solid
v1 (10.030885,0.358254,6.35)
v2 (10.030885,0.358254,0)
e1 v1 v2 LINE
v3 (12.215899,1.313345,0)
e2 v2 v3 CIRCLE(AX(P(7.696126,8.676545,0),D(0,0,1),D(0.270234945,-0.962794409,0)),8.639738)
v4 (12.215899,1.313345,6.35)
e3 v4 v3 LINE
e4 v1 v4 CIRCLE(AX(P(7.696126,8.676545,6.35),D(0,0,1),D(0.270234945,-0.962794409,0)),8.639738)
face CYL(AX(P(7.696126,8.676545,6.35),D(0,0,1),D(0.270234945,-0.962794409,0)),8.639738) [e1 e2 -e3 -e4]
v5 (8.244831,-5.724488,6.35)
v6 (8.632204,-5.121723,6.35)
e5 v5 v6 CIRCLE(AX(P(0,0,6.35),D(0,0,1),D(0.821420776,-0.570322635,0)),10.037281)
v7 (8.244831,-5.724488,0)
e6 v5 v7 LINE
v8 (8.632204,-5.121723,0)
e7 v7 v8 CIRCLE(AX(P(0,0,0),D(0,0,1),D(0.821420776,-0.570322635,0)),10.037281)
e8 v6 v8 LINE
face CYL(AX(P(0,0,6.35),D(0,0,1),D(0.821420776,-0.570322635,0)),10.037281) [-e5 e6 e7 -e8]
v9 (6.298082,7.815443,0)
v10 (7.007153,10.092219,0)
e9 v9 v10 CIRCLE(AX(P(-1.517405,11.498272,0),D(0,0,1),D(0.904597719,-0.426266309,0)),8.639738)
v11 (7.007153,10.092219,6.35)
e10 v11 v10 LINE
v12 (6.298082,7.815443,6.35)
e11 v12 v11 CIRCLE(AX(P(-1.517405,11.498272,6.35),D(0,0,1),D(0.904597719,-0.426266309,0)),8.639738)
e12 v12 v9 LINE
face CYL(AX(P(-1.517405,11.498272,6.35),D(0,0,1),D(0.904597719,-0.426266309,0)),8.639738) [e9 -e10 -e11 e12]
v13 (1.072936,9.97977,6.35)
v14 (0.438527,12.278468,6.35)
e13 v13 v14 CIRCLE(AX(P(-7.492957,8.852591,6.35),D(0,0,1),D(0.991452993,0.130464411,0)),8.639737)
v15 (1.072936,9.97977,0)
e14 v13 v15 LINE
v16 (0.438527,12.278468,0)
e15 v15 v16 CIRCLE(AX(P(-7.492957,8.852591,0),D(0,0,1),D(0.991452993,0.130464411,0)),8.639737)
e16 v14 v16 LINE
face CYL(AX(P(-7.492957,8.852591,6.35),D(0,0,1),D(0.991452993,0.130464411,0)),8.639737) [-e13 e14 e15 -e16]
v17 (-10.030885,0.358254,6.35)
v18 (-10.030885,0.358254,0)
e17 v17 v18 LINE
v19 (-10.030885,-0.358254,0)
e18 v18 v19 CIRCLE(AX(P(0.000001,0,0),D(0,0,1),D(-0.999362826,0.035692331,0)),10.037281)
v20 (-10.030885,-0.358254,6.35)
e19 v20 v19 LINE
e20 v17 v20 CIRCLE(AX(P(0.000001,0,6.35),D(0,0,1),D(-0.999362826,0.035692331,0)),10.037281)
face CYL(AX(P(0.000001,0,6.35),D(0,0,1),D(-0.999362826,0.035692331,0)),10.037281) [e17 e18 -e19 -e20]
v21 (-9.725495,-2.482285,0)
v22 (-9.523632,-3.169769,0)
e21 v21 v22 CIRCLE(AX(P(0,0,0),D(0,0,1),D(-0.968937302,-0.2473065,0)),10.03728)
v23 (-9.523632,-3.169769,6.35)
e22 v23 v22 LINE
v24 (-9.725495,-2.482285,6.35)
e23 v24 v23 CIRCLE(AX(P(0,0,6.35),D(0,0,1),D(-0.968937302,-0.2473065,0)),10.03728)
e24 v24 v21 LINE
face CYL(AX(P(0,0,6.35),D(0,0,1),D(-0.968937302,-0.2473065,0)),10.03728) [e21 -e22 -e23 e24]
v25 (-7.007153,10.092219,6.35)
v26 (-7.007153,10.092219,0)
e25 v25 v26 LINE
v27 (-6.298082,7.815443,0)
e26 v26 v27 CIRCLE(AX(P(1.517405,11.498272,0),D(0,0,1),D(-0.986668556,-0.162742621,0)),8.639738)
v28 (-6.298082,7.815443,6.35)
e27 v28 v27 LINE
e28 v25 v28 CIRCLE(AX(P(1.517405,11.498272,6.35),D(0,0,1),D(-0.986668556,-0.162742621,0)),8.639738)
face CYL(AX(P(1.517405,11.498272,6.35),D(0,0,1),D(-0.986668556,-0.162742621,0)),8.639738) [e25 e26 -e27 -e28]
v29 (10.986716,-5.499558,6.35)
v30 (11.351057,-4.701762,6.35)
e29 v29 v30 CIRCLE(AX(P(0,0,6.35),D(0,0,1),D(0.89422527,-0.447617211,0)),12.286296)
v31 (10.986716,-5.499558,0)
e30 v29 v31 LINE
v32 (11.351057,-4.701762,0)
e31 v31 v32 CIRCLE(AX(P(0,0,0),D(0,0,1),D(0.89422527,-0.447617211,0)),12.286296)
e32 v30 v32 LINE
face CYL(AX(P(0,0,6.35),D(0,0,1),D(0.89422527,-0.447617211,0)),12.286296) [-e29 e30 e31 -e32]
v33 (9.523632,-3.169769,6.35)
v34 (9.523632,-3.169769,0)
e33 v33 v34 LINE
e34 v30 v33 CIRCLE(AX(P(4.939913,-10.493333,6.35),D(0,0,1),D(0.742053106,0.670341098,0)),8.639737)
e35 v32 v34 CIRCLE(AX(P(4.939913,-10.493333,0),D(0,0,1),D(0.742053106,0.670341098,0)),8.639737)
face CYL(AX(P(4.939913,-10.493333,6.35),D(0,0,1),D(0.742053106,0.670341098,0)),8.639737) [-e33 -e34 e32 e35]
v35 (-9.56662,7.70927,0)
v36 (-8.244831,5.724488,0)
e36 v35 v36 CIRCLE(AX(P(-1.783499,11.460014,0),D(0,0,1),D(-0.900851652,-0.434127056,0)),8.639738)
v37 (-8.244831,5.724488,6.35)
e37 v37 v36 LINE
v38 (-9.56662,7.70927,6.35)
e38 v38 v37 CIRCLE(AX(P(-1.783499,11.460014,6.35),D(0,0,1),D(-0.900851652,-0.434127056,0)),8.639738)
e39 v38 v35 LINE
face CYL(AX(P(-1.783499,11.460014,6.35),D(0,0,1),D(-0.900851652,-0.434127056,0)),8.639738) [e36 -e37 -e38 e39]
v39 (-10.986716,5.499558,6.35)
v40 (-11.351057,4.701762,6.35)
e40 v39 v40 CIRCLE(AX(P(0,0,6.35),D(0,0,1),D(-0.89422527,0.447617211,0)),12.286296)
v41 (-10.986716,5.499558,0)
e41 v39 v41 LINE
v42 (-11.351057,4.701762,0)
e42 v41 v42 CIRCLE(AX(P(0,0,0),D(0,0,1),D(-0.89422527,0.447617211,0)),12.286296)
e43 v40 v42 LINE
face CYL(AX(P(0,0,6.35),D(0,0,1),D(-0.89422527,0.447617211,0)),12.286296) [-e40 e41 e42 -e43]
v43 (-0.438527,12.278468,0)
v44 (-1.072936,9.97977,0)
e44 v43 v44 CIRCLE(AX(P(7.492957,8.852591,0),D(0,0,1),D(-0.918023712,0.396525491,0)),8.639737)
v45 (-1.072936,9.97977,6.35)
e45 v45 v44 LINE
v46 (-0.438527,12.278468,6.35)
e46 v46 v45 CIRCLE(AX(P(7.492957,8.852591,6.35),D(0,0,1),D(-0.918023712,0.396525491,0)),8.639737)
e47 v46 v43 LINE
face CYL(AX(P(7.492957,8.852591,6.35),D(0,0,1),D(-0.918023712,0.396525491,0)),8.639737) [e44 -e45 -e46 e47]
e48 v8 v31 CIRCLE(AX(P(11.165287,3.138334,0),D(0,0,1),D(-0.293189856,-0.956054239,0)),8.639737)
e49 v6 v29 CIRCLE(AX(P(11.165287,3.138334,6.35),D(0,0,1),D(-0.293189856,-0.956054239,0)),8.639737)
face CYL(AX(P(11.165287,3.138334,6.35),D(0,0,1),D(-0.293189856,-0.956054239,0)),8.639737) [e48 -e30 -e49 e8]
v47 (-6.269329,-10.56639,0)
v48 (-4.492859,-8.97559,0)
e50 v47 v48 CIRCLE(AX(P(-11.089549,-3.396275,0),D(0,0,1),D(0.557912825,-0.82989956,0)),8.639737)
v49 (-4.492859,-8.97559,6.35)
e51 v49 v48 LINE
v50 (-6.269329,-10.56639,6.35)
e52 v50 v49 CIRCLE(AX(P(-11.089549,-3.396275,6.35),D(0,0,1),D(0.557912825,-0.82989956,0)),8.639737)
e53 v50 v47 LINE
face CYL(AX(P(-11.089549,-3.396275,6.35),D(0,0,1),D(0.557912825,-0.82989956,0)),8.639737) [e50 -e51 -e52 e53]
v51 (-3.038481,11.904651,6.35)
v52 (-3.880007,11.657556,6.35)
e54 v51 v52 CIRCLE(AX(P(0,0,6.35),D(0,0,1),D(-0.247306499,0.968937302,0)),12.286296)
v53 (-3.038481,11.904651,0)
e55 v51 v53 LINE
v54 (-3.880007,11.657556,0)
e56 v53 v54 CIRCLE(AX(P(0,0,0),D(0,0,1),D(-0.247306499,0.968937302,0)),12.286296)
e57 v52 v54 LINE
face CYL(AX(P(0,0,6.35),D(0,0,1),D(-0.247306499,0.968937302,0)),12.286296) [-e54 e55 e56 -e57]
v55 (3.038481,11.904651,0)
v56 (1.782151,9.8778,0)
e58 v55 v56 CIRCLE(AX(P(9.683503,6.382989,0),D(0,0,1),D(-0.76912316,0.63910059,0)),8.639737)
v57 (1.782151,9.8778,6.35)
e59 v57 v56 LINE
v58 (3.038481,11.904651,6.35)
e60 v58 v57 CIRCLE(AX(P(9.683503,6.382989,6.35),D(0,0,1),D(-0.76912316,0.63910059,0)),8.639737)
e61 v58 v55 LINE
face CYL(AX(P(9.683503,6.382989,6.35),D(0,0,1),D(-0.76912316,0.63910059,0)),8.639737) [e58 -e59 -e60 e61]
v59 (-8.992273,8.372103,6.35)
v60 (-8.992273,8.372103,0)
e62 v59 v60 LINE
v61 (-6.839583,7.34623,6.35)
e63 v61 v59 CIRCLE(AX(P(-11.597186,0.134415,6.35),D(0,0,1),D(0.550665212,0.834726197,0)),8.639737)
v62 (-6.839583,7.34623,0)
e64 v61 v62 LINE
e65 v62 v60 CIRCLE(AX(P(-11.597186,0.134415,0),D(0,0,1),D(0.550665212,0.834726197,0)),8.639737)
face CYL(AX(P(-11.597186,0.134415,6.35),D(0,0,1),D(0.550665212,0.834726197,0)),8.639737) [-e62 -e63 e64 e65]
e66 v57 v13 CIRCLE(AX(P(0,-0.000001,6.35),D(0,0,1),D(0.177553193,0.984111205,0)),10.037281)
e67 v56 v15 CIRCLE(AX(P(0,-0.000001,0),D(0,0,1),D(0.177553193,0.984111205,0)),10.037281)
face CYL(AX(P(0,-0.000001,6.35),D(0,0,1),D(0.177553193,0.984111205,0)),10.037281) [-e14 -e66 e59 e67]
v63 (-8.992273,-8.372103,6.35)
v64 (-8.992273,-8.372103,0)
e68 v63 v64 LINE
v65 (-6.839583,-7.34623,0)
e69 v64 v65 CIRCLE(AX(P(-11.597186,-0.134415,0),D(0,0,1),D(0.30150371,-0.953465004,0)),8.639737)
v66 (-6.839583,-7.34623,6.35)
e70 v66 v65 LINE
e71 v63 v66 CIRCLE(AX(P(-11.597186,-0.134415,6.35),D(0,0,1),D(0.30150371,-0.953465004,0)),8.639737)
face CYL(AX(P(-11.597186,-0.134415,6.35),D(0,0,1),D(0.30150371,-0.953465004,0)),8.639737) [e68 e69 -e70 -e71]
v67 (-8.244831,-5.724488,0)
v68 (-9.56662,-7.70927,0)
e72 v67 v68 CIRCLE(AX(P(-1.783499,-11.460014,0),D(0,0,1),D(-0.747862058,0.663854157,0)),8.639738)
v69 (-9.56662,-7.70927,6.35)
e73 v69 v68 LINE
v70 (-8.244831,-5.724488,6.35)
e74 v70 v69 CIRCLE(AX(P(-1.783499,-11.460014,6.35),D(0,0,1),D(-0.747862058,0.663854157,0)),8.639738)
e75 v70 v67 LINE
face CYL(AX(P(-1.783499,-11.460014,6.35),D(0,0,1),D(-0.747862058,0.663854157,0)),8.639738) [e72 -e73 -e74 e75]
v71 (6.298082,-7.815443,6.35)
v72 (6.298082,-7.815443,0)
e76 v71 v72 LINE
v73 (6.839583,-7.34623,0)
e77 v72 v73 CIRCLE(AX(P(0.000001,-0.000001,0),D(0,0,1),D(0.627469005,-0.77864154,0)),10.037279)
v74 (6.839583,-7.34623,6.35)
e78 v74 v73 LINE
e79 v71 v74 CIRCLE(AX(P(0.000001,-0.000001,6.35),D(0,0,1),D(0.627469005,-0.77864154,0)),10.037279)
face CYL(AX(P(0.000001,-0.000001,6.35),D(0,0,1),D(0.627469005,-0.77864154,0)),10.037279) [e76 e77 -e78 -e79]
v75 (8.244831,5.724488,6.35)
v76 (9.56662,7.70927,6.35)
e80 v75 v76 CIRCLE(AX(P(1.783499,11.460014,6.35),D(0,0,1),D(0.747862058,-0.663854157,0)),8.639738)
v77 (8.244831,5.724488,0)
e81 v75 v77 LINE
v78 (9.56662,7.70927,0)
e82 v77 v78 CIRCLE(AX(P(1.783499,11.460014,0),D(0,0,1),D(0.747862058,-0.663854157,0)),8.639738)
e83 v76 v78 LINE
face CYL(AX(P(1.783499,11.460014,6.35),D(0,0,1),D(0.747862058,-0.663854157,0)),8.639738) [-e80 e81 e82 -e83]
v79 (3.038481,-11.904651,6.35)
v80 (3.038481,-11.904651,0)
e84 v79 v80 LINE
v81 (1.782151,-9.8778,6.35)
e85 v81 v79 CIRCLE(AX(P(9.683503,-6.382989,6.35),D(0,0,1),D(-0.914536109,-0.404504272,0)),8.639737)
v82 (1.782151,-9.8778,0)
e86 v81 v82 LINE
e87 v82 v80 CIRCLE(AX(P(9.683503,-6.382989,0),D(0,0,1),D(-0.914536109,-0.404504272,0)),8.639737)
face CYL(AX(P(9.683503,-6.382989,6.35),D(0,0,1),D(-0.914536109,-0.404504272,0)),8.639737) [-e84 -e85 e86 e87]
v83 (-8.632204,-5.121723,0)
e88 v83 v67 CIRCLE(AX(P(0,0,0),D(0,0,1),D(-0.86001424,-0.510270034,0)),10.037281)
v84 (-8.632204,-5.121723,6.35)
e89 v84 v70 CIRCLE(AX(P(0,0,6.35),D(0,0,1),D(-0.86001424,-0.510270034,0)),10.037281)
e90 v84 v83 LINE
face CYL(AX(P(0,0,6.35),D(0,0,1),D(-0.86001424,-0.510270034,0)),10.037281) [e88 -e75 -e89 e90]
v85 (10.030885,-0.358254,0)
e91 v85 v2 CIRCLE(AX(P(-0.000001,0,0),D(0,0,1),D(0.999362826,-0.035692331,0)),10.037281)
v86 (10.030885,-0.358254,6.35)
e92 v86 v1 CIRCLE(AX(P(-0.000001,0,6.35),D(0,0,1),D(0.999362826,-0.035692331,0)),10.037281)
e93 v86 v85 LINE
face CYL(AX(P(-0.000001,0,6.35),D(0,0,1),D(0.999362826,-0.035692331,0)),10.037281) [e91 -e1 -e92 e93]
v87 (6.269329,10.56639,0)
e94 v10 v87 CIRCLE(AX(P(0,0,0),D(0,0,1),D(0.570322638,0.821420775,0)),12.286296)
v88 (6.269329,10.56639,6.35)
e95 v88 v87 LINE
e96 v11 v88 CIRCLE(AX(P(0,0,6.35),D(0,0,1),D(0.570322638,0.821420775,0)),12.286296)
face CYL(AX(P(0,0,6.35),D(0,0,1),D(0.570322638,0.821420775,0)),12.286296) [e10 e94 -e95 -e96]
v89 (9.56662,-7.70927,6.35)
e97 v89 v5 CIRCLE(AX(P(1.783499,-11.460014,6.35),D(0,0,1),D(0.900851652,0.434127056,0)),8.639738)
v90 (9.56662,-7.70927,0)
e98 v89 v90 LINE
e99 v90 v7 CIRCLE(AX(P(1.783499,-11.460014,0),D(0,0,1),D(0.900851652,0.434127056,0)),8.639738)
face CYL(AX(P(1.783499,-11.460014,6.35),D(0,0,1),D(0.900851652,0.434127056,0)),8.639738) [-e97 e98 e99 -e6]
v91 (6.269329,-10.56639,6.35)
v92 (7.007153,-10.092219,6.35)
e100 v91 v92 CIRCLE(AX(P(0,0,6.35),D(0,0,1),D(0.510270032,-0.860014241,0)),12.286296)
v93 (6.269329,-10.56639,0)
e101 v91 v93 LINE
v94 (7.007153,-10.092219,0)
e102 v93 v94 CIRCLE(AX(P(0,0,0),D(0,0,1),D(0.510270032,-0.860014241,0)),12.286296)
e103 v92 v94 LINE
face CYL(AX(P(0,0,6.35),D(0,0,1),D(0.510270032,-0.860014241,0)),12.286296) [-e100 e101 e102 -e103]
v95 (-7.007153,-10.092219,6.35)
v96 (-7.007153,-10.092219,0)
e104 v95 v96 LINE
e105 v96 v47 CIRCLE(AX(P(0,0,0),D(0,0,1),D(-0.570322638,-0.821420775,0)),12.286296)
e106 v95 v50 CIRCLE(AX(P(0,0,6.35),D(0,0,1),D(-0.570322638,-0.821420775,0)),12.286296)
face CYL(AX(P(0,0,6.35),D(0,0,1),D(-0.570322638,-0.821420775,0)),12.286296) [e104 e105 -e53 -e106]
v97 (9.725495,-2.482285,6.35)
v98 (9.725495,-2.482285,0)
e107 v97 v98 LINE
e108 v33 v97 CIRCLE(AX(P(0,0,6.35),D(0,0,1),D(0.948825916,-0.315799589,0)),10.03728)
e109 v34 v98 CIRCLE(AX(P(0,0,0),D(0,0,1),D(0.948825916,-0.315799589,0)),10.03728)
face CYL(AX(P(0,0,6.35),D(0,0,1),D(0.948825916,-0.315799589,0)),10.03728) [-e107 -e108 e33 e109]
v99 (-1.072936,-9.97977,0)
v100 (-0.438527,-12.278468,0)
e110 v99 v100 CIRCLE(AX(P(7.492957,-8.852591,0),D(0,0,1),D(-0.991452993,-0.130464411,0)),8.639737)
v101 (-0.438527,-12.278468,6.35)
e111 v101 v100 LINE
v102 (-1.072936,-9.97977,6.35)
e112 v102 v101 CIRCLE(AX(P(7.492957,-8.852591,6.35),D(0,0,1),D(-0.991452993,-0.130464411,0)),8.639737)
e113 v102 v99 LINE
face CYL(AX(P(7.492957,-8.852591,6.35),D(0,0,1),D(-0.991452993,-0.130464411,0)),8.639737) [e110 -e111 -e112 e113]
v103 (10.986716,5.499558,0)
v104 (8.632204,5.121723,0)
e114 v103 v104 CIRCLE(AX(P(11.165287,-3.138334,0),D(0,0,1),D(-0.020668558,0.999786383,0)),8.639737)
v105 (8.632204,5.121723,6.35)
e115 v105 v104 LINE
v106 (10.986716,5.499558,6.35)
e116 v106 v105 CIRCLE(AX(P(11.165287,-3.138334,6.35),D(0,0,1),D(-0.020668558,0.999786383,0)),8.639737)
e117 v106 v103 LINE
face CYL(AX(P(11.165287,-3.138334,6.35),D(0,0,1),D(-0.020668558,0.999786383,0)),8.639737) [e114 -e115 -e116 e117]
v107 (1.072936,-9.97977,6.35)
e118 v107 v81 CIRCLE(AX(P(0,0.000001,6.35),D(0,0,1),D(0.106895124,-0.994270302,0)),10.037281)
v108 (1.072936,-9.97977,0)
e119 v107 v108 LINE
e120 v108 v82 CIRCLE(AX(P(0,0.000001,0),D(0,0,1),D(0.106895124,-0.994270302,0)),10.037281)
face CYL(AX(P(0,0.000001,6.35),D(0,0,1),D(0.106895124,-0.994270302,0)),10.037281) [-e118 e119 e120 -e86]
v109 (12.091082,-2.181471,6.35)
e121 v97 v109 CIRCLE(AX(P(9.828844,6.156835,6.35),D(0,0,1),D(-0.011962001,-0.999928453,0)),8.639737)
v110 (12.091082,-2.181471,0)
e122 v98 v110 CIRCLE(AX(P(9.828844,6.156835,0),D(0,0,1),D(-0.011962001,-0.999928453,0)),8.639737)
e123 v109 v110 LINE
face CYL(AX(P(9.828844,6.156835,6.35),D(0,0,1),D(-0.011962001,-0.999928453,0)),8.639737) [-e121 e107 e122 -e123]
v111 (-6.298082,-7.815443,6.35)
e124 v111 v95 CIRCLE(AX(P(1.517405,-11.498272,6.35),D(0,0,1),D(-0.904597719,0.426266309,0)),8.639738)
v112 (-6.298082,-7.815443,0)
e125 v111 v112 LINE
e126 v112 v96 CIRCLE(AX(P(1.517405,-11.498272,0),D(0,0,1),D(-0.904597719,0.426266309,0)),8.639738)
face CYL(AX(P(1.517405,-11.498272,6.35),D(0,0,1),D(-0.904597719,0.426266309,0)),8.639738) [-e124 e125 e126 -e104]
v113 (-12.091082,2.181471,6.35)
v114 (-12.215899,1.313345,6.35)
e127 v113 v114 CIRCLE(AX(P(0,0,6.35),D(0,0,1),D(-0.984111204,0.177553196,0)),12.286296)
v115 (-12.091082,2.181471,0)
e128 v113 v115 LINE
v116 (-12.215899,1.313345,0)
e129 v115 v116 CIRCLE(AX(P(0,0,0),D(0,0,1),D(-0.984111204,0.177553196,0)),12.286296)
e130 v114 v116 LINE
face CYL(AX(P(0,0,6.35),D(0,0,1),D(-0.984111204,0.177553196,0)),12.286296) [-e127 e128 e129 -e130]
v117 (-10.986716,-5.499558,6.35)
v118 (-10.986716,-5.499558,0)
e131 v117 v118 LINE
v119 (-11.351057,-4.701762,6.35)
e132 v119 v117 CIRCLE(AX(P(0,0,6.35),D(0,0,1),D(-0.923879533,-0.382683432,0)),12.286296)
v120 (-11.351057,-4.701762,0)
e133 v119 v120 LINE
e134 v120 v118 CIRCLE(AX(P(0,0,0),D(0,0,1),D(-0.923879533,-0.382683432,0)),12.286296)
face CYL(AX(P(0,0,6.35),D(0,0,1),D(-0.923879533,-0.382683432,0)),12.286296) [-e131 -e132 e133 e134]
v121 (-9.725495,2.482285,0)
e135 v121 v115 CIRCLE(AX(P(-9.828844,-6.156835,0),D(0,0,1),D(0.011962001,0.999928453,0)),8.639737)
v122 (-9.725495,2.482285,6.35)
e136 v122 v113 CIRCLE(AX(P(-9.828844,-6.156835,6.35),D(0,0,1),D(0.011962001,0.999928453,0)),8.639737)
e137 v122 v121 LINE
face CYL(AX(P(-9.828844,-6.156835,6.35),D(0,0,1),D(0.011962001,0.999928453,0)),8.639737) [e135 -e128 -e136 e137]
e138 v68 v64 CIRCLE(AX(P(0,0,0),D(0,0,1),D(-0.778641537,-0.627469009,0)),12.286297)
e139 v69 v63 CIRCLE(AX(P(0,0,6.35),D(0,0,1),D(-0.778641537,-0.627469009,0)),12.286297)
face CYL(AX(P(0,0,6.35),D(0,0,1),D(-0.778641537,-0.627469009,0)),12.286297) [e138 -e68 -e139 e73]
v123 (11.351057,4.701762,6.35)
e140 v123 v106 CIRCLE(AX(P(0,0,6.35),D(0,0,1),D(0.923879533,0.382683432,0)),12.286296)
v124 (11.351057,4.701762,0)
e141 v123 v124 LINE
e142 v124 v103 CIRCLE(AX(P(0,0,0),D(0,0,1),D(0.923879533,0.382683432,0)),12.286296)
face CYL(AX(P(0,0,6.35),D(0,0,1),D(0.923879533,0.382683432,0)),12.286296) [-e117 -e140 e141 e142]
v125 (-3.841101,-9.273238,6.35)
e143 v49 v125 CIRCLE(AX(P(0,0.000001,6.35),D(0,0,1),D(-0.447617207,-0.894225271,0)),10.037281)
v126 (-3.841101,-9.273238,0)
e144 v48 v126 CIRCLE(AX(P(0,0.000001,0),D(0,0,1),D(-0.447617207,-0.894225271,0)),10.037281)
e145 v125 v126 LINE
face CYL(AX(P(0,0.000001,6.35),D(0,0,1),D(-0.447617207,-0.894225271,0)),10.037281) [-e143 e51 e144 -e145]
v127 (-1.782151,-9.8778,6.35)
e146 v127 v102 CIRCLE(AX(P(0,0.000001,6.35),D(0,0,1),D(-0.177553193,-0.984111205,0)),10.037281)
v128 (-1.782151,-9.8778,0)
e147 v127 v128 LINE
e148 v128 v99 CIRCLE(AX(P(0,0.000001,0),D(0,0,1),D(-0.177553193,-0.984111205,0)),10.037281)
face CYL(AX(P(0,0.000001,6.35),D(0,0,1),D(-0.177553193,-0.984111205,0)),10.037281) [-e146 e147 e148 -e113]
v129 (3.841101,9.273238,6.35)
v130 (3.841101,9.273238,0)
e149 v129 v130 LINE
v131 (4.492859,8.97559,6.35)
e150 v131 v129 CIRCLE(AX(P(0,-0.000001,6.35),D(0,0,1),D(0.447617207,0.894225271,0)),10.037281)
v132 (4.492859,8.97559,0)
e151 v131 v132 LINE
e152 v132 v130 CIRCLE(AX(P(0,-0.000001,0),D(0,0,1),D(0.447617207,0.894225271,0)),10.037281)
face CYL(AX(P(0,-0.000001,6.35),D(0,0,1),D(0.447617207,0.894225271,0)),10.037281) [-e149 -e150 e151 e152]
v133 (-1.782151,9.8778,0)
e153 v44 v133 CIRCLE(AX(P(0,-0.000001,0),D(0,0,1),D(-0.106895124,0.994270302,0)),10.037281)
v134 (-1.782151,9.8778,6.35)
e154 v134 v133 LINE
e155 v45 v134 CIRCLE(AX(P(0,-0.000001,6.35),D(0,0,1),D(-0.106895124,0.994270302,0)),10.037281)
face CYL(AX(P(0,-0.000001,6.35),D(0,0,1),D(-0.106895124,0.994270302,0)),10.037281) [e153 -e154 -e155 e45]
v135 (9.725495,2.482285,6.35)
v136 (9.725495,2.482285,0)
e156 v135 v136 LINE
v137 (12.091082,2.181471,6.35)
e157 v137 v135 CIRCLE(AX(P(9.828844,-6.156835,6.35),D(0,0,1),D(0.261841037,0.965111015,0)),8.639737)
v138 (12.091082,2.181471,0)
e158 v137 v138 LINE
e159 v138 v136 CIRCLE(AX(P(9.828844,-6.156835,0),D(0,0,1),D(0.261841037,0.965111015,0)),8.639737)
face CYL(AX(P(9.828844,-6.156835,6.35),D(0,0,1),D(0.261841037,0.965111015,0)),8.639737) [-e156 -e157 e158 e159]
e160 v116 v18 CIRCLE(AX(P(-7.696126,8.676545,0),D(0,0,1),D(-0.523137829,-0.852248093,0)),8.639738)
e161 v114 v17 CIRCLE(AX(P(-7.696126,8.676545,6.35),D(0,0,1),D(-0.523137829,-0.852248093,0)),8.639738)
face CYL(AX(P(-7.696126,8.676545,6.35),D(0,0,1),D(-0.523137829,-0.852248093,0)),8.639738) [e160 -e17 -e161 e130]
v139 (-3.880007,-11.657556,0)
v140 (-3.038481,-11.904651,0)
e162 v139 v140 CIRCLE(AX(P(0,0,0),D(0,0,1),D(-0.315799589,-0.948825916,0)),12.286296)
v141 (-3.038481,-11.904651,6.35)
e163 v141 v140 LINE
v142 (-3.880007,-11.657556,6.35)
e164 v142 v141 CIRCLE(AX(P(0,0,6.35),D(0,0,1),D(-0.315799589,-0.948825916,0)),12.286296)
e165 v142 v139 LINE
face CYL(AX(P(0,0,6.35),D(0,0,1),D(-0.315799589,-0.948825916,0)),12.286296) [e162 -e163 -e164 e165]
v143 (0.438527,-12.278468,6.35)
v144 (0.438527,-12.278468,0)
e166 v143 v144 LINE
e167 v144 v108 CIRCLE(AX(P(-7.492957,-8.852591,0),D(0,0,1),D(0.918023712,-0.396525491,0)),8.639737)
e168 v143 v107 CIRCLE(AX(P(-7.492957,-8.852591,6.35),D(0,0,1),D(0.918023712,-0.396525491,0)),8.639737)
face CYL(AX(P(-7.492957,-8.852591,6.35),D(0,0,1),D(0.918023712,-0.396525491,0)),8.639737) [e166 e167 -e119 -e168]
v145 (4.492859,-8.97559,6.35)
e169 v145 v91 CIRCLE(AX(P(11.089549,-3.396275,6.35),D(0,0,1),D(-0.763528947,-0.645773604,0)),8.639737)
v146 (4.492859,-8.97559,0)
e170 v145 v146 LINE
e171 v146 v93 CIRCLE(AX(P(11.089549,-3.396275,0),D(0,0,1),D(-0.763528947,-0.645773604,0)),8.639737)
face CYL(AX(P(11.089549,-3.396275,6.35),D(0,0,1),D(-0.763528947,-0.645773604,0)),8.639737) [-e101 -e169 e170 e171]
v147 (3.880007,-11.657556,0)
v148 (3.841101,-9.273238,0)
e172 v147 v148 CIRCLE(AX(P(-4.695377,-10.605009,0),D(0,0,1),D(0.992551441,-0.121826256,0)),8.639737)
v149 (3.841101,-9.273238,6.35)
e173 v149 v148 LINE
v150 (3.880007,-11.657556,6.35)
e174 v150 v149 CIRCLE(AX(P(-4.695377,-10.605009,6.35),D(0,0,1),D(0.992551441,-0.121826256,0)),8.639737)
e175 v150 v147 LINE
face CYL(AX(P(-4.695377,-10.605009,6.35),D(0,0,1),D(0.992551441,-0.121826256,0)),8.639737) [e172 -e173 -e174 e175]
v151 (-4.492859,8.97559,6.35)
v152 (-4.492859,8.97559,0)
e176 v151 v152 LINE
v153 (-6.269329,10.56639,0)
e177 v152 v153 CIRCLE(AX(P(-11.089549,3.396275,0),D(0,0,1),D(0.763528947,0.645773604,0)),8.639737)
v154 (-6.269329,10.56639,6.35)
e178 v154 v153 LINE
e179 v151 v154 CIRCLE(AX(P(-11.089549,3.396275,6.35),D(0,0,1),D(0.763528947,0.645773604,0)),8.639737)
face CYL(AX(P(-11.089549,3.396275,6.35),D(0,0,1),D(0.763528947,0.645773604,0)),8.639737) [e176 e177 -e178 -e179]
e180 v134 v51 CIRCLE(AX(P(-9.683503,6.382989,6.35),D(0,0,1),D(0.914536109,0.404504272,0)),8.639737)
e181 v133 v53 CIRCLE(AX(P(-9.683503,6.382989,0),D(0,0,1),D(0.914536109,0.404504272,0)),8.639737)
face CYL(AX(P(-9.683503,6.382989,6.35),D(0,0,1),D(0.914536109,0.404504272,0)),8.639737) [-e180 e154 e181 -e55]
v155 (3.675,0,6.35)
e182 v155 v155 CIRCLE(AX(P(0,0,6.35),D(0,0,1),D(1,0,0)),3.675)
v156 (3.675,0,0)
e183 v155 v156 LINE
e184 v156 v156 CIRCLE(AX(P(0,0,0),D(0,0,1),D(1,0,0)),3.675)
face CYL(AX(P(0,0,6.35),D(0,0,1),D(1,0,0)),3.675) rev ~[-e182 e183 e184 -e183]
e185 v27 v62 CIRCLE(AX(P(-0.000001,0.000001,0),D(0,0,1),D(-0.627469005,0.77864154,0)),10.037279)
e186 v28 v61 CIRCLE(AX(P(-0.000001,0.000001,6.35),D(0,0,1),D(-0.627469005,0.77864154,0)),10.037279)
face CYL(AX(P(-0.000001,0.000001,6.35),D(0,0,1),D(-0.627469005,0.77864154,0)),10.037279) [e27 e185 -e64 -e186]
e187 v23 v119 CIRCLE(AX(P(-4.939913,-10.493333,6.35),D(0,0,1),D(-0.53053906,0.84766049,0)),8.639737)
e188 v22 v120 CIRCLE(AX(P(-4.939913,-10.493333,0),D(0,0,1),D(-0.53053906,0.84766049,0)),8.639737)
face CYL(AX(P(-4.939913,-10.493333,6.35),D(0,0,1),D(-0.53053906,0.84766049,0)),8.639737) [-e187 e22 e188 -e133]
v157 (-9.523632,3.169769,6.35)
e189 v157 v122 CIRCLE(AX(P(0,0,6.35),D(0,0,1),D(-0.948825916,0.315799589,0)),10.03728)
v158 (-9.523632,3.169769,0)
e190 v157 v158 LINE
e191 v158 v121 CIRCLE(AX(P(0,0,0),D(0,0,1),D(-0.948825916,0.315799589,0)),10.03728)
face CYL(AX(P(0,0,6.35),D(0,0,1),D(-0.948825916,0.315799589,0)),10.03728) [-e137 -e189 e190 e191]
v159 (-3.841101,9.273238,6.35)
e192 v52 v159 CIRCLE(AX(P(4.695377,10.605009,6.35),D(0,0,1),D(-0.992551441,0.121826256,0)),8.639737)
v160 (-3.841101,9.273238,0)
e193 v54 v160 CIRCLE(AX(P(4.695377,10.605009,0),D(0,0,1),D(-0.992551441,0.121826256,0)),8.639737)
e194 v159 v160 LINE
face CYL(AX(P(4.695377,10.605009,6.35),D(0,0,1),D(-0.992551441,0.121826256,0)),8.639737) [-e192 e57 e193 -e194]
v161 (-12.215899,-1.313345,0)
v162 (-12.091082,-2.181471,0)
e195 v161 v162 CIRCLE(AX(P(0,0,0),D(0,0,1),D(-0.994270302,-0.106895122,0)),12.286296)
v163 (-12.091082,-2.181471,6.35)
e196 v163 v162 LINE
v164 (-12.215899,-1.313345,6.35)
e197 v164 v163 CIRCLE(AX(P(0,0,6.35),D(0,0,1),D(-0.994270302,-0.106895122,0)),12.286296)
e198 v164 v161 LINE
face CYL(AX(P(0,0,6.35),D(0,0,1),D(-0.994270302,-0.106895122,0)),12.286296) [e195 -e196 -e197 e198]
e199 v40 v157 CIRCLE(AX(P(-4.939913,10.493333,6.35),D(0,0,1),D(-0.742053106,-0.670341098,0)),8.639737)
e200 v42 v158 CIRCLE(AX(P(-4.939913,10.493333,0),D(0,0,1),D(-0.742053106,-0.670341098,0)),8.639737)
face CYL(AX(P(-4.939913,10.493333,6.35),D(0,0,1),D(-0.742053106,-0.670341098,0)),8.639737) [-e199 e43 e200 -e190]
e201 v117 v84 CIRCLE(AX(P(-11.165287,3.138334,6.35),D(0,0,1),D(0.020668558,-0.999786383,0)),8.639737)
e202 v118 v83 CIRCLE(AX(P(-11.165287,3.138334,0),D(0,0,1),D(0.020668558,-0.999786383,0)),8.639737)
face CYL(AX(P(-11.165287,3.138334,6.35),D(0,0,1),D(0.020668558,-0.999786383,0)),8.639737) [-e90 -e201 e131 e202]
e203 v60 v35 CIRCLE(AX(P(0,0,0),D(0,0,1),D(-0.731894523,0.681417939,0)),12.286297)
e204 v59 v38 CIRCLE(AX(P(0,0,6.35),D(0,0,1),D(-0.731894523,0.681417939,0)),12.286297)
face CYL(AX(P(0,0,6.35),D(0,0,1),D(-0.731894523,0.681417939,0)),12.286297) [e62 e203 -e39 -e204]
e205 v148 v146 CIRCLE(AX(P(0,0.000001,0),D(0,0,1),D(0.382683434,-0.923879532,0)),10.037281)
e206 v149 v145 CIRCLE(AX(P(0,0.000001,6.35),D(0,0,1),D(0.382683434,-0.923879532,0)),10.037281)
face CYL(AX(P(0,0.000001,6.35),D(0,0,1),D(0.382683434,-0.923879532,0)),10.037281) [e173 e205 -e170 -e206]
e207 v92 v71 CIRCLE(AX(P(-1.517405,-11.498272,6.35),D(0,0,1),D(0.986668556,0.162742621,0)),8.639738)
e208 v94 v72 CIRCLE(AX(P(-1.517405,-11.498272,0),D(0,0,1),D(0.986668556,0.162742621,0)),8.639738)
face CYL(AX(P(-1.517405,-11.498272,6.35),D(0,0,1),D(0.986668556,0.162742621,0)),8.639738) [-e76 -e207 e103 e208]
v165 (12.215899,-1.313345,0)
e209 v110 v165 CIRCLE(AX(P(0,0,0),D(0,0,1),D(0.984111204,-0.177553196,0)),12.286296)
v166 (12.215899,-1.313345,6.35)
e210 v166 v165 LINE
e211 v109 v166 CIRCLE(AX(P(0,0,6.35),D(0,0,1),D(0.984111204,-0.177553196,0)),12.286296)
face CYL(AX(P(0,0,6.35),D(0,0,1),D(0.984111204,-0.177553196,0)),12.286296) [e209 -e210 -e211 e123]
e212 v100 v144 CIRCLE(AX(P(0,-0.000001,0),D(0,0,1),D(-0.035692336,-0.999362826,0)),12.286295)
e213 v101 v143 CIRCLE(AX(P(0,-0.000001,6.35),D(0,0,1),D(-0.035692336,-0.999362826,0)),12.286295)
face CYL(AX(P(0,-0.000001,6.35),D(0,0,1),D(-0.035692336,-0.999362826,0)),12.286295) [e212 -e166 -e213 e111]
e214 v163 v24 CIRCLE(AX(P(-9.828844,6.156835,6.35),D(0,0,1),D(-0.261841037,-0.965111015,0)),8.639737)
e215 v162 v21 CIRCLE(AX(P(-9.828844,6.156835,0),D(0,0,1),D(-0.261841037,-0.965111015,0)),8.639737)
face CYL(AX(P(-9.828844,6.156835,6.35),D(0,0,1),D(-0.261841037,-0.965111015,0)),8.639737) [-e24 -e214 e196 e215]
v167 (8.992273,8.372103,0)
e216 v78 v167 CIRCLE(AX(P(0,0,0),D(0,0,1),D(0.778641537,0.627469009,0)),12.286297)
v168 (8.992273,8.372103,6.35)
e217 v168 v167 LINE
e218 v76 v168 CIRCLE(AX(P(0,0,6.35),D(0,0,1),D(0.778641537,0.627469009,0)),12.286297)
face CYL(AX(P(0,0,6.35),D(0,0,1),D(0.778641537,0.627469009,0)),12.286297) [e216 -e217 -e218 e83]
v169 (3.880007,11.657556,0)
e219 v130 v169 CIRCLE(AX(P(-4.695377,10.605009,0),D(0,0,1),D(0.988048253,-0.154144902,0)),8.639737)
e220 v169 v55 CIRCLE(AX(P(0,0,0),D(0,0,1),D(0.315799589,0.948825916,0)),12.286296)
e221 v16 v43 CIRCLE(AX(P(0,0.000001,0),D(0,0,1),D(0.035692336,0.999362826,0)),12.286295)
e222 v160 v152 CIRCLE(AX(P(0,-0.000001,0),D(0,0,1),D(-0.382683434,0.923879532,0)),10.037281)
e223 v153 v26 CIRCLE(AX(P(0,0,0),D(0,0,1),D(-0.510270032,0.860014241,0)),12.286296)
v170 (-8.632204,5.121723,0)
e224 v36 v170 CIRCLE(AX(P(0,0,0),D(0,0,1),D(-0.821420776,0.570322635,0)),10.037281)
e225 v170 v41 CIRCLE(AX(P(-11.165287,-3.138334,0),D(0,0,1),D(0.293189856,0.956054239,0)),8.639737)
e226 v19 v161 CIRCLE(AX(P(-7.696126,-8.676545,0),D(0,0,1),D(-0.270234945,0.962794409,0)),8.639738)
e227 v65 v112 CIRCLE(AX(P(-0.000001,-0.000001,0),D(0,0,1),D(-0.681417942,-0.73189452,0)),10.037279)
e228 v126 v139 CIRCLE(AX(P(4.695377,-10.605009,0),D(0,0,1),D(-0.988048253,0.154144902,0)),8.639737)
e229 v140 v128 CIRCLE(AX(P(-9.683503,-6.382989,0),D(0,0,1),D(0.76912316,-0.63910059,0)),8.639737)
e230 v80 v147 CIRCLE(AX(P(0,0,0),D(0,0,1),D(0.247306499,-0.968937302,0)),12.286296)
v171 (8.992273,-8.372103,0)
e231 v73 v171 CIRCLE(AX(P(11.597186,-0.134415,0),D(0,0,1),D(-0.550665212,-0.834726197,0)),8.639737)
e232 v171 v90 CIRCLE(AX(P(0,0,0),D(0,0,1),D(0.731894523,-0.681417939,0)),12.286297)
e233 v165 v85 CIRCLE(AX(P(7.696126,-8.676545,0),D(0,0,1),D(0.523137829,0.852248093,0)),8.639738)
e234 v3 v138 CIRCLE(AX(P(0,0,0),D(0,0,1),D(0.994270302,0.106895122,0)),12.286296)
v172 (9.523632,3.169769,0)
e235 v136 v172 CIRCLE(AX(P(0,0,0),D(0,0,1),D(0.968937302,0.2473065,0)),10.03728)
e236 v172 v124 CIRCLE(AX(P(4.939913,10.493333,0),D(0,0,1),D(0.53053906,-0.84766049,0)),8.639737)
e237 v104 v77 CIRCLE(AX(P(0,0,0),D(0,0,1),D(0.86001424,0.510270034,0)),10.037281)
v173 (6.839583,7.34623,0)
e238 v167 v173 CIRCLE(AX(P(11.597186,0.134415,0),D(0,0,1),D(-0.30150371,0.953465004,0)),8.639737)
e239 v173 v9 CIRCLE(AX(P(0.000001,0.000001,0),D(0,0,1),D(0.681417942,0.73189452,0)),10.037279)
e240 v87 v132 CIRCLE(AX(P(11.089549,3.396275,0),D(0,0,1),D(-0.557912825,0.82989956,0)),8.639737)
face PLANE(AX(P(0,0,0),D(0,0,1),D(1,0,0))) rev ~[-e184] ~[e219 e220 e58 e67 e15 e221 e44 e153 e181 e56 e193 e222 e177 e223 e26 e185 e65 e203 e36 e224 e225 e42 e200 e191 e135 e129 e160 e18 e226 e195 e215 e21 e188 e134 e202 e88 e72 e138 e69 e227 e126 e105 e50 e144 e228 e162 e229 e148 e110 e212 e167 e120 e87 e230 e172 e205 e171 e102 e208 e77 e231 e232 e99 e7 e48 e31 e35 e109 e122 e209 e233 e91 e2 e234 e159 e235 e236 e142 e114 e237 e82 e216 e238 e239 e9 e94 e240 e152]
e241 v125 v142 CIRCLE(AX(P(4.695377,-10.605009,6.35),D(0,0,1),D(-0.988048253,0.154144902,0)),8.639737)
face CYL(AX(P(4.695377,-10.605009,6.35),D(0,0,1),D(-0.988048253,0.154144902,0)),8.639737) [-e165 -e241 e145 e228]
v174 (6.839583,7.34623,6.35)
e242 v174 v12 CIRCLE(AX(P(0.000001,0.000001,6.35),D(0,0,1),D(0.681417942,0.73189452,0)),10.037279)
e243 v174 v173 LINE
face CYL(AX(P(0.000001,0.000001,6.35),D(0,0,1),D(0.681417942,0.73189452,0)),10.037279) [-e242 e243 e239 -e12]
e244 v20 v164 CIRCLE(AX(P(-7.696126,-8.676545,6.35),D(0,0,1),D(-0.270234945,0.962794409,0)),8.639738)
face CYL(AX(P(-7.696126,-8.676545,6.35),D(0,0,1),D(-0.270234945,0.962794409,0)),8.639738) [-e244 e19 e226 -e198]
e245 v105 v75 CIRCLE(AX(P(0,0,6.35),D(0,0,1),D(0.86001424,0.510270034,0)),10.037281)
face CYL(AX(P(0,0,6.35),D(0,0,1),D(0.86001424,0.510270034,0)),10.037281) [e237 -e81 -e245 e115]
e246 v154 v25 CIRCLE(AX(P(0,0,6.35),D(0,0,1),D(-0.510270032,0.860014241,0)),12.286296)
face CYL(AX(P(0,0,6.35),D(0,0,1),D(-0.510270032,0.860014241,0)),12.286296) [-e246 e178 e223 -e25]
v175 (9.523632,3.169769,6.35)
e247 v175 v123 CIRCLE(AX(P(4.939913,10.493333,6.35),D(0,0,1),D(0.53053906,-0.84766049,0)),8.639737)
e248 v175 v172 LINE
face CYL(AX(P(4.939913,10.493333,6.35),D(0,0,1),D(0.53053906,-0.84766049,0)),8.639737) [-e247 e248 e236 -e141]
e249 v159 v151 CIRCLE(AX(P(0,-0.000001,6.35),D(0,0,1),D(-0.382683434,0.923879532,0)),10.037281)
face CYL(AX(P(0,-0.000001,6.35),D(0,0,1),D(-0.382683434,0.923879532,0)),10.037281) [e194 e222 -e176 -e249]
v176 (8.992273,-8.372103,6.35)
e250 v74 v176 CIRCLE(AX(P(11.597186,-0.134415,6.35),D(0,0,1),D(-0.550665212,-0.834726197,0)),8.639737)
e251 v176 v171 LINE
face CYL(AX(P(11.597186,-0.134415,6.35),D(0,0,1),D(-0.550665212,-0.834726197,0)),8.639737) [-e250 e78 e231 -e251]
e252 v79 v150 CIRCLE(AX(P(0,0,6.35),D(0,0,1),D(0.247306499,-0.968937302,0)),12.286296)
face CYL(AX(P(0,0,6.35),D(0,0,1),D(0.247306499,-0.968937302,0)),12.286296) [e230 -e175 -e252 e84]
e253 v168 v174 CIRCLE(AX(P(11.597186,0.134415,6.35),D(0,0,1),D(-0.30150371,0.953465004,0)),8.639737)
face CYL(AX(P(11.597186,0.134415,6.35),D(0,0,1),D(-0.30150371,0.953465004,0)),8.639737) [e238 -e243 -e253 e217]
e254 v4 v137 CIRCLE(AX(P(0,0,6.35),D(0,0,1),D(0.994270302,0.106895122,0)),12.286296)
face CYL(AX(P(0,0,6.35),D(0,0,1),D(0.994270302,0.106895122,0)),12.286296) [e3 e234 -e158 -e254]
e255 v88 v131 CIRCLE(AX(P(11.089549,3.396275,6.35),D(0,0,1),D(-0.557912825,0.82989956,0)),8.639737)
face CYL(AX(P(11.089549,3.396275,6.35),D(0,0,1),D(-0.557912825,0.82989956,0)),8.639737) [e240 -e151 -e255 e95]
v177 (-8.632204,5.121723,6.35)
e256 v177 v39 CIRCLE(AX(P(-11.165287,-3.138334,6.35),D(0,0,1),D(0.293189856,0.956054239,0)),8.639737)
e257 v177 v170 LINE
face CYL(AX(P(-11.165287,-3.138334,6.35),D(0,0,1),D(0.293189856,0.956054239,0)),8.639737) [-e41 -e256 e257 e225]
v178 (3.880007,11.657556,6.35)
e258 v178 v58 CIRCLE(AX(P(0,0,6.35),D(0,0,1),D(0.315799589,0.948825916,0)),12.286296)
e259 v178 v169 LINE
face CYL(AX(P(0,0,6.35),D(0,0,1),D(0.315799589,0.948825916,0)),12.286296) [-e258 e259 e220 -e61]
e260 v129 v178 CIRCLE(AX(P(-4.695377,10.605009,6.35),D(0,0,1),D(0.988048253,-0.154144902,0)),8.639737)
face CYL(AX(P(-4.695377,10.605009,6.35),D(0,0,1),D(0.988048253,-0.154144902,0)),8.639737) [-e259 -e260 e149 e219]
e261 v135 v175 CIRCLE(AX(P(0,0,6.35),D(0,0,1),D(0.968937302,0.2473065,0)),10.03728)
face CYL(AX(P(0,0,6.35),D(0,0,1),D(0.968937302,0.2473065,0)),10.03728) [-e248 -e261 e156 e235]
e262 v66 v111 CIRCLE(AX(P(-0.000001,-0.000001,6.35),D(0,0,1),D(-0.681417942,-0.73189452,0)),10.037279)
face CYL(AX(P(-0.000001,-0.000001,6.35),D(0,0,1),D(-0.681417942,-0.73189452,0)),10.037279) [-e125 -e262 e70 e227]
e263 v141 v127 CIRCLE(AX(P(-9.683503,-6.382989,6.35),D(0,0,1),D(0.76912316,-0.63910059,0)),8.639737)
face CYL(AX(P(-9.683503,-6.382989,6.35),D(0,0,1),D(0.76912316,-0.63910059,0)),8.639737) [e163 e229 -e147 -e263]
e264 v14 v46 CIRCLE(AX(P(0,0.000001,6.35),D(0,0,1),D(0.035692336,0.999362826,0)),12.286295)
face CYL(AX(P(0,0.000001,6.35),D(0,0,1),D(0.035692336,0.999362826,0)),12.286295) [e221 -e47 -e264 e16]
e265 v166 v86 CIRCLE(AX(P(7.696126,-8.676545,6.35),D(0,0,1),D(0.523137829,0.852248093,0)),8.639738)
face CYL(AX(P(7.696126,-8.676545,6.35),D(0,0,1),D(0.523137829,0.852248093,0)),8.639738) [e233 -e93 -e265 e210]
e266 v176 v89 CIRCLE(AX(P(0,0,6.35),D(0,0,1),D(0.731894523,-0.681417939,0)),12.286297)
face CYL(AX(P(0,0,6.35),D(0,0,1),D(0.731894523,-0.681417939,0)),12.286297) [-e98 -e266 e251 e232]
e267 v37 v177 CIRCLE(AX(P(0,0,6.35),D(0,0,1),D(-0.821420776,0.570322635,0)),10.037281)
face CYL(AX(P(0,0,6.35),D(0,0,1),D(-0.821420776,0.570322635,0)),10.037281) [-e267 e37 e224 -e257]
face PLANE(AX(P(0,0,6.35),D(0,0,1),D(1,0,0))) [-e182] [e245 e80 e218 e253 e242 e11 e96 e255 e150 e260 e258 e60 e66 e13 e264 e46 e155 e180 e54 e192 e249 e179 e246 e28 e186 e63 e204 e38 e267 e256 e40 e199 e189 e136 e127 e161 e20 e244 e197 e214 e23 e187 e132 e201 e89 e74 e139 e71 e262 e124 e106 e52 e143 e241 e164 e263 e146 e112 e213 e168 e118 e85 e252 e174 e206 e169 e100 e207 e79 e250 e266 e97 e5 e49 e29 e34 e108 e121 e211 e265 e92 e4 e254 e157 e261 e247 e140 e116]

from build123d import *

# Parameters (mm, degrees)
SKETCH1_R           = 3.675
BOSS_EXTRUDE1_DEPTH = 6.35


with BuildPart() as part:
    # Sketch1 → Boss-Extrude1 (new body)
    with BuildSketch(Plane.XY.offset(6.35)):
        with BuildLine():
            ThreePointArc((-3.880007235, 11.657556143), (-3.94321083, 10.464048215), (-3.841100867, 9.273237808))
            ThreePointArc((-3.841100867, 9.273237808), (-4.169636916, 9.130231284), (-4.492859393, 8.975589663))
            ThreePointArc((-4.492859393, 8.975589663), (-5.325946046, 9.8325742), (-6.269328707, 10.566389588))
            ThreePointArc((-6.269328707, 10.566389588), (-6.642473156, 10.335889983), (-7.007152779, 10.092218849))
            ThreePointArc((-7.007152779, 10.092218849), (-6.731546143, 8.929249868), (-6.298082291, 7.815443351))
            ThreePointArc((-6.298082291, 7.815443351), (-6.573020728, 7.585670296), (-6.839582844, 7.346230451))
            ThreePointArc((-6.839582844, 7.346230451), (-7.880364079, 7.933793461), (-8.992272799, 8.37210256))
            ThreePointArc((-8.992272799, 8.37210256), (-9.285363033, 8.045812868), (-9.566620477, 7.709270006))
            ThreePointArc((-9.566620477, 7.709270006), (-8.974531622, 6.671056802), (-8.244830544, 5.724488154))
            ThreePointArc((-8.244830544, 5.724488154), (-8.443897491, 5.426563413), (-8.632203969, 5.121723338))
            ThreePointArc((-8.632203969, 5.121723338), (-9.79636188, 5.392263959), (-10.986716428, 5.499557573))
            ThreePointArc((-10.986716428, 5.499557573), (-11.176008019, 5.103911846), (-11.351057479, 4.701761955))
            ThreePointArc((-11.351057479, 4.701761955), (-10.490453922, 3.872414387), (-9.523631659, 3.169768972))
            ThreePointArc((-9.523631659, 3.169768972), (-9.630699898, 2.827828636), (-9.725495267, 2.48228466))
            ThreePointArc((-9.725495267, 2.48228466), (-10.918716703, 2.4138853), (-12.091081632, 2.181471139))
            ThreePointArc((-12.091081632, 2.181471139), (-12.161239301, 1.74852224), (-12.215899311, 1.313345113))
            ThreePointArc((-12.215899311, 1.313345113), (-11.156502035, 0.76005199), (-10.030884778, 0.358253958))
            ThreePointArc((-10.030884778, 0.358253958), (-10.037280275, 0), (-10.030884778, -0.358253958))
            ThreePointArc((-10.030884778, -0.358253958), (-11.156502035, -0.76005199), (-12.215899311, -1.313345113))
            ThreePointArc((-12.215899311, -1.313345113), (-12.161239301, -1.74852224), (-12.091081632, -2.181471139))
            ThreePointArc((-12.091081632, -2.181471139), (-10.918716703, -2.4138853), (-9.725495267, -2.48228466))
            ThreePointArc((-9.725495267, -2.48228466), (-9.630699898, -2.827828636), (-9.523631659, -3.169768972))
            ThreePointArc((-9.523631659, -3.169768972), (-10.490453922, -3.872414387), (-11.351057479, -4.701761955))
            ThreePointArc((-11.351057479, -4.701761955), (-11.176008019, -5.103911846), (-10.986716428, -5.499557573))
            ThreePointArc((-10.986716428, -5.499557573), (-9.79636188, -5.392263959), (-8.632203969, -5.121723338))
            ThreePointArc((-8.632203969, -5.121723338), (-8.443897491, -5.426563413), (-8.244830544, -5.724488154))
            ThreePointArc((-8.244830544, -5.724488154), (-8.974531622, -6.671056802), (-9.566620477, -7.709270006))
            ThreePointArc((-9.566620477, -7.709270006), (-9.285363033, -8.045812868), (-8.992272799, -8.37210256))
            ThreePointArc((-8.992272799, -8.37210256), (-7.880364079, -7.933793461), (-6.839582844, -7.346230451))
            ThreePointArc((-6.839582844, -7.346230451), (-6.573020728, -7.585670296), (-6.298082291, -7.815443351))
            ThreePointArc((-6.298082291, -7.815443351), (-6.731546143, -8.929249868), (-7.007152779, -10.092218849))
            ThreePointArc((-7.007152779, -10.092218849), (-6.642473156, -10.335889983), (-6.269328707, -10.566389588))
            ThreePointArc((-6.269328707, -10.566389588), (-5.325946046, -9.8325742), (-4.492859393, -8.975589663))
            ThreePointArc((-4.492859393, -8.975589663), (-4.169636916, -9.130231284), (-3.841100867, -9.273237808))
            ThreePointArc((-3.841100867, -9.273237808), (-3.94321083, -10.464048215), (-3.880007235, -11.657556143))
            ThreePointArc((-3.880007235, -11.657556143), (-3.461449609, -11.788614761), (-3.038480888, -11.904650573))
            ThreePointArc((-3.038480888, -11.904650573), (-2.340051539, -10.934778255), (-1.782151195, -9.87779998))
            ThreePointArc((-1.782151195, -9.87779998), (-1.428453919, -9.935115234), (-1.072936295, -9.979769688))
            ThreePointArc((-1.072936295, -9.979769688), (-0.835420026, -11.151111607), (-0.438526581, -12.278467567))
            ThreePointArc((-0.438526581, -12.278467567), (0, -12.28629608), (0.438526581, -12.278467567))
            ThreePointArc((0.438526581, -12.278467567), (0.835420026, -11.151111607), (1.072936295, -9.979769688))
            ThreePointArc((1.072936295, -9.979769688), (1.428453919, -9.935115234), (1.782151195, -9.87779998))
            ThreePointArc((1.782151195, -9.87779998), (2.340051539, -10.934778255), (3.038480888, -11.904650573))
            ThreePointArc((3.038480888, -11.904650573), (3.461449609, -11.788614761), (3.880007235, -11.657556143))
            ThreePointArc((3.880007235, -11.657556143), (3.94321083, -10.464048215), (3.841100867, -9.273237808))
            ThreePointArc((3.841100867, -9.273237808), (4.169636916, -9.130231284), (4.492859393, -8.975589663))
            ThreePointArc((4.492859393, -8.975589663), (5.325946046, -9.8325742), (6.269328707, -10.566389588))
            ThreePointArc((6.269328707, -10.566389588), (6.642473156, -10.335889983), (7.007152779, -10.092218849))
            ThreePointArc((7.007152779, -10.092218849), (6.731546143, -8.929249868), (6.298082291, -7.815443351))
            ThreePointArc((6.298082291, -7.815443351), (6.573020728, -7.585670296), (6.839582844, -7.346230451))
            ThreePointArc((6.839582844, -7.346230451), (7.880364079, -7.933793461), (8.992272799, -8.37210256))
            ThreePointArc((8.992272799, -8.37210256), (9.285363033, -8.045812868), (9.566620477, -7.709270006))
            ThreePointArc((9.566620477, -7.709270006), (8.974531622, -6.671056802), (8.244830544, -5.724488154))
            ThreePointArc((8.244830544, -5.724488154), (8.443897491, -5.426563413), (8.632203969, -5.121723338))
            ThreePointArc((8.632203969, -5.121723338), (9.79636188, -5.392263959), (10.986716428, -5.499557573))
            ThreePointArc((10.986716428, -5.499557573), (11.176008019, -5.103911846), (11.351057479, -4.701761955))
            ThreePointArc((11.351057479, -4.701761955), (10.490453922, -3.872414387), (9.523631659, -3.169768972))
            ThreePointArc((9.523631659, -3.169768972), (9.630699898, -2.827828636), (9.725495267, -2.48228466))
            ThreePointArc((9.725495267, -2.48228466), (10.918716703, -2.4138853), (12.091081632, -2.181471139))
            ThreePointArc((12.091081632, -2.181471139), (12.161239301, -1.74852224), (12.215899311, -1.313345113))
            ThreePointArc((12.215899311, -1.313345113), (11.156502035, -0.76005199), (10.030884778, -0.358253958))
            ThreePointArc((10.030884778, -0.358253958), (10.037280275, 0), (10.030884778, 0.358253958))
            ThreePointArc((10.030884778, 0.358253958), (11.156502035, 0.76005199), (12.215899311, 1.313345113))
            ThreePointArc((12.215899311, 1.313345113), (12.161239301, 1.74852224), (12.091081632, 2.181471139))
            ThreePointArc((12.091081632, 2.181471139), (10.918716703, 2.4138853), (9.725495267, 2.48228466))
            ThreePointArc((9.725495267, 2.48228466), (9.630699898, 2.827828636), (9.523631659, 3.169768972))
            ThreePointArc((9.523631659, 3.169768972), (10.490453922, 3.872414387), (11.351057479, 4.701761955))
            ThreePointArc((11.351057479, 4.701761955), (11.176008019, 5.103911846), (10.986716428, 5.499557573))
            ThreePointArc((10.986716428, 5.499557573), (9.79636188, 5.392263959), (8.632203969, 5.121723338))
            ThreePointArc((8.632203969, 5.121723338), (8.443897491, 5.426563413), (8.244830544, 5.724488154))
            ThreePointArc((8.244830544, 5.724488154), (8.974531622, 6.671056802), (9.566620477, 7.709270006))
            ThreePointArc((9.566620477, 7.709270006), (9.285363033, 8.045812868), (8.992272799, 8.37210256))
            ThreePointArc((8.992272799, 8.37210256), (7.880364079, 7.933793461), (6.839582844, 7.346230451))
            ThreePointArc((6.839582844, 7.346230451), (6.573020728, 7.585670296), (6.298082291, 7.815443351))
            ThreePointArc((6.298082291, 7.815443351), (6.731546143, 8.929249868), (7.007152779, 10.092218849))
            ThreePointArc((7.007152779, 10.092218849), (6.642473156, 10.335889983), (6.269328707, 10.566389588))
            ThreePointArc((6.269328707, 10.566389588), (5.325946046, 9.8325742), (4.492859393, 8.975589663))
            ThreePointArc((4.492859393, 8.975589663), (4.169636916, 9.130231284), (3.841100867, 9.273237808))
            ThreePointArc((3.841100867, 9.273237808), (3.94321083, 10.464048215), (3.880007235, 11.657556143))
            ThreePointArc((3.880007235, 11.657556143), (3.461449609, 11.788614761), (3.038480888, 11.904650573))
            ThreePointArc((3.038480888, 11.904650573), (2.340051539, 10.934778255), (1.782151195, 9.87779998))
            ThreePointArc((1.782151195, 9.87779998), (1.428453919, 9.935115234), (1.072936295, 9.979769688))
            ThreePointArc((1.072936295, 9.979769688), (0.835420026, 11.151111607), (0.438526581, 12.278467567))
            ThreePointArc((0.438526581, 12.278467567), (0, 12.28629608), (-0.438526581, 12.278467567))
            ThreePointArc((-0.438526581, 12.278467567), (-0.835420026, 11.151111607), (-1.072936295, 9.979769688))
            ThreePointArc((-1.072936295, 9.979769688), (-1.428453919, 9.935115234), (-1.782151195, 9.87779998))
            ThreePointArc((-1.782151195, 9.87779998), (-2.340051539, 10.934778255), (-3.038480888, 11.904650573))
            ThreePointArc((-3.038480888, 11.904650573), (-3.461449609, 11.788614761), (-3.880007235, 11.657556143))
        make_face()
        Circle(SKETCH1_R, mode=Mode.SUBTRACT)
    extrude(amount=-BOSS_EXTRUDE1_DEPTH)


solid = part.part
